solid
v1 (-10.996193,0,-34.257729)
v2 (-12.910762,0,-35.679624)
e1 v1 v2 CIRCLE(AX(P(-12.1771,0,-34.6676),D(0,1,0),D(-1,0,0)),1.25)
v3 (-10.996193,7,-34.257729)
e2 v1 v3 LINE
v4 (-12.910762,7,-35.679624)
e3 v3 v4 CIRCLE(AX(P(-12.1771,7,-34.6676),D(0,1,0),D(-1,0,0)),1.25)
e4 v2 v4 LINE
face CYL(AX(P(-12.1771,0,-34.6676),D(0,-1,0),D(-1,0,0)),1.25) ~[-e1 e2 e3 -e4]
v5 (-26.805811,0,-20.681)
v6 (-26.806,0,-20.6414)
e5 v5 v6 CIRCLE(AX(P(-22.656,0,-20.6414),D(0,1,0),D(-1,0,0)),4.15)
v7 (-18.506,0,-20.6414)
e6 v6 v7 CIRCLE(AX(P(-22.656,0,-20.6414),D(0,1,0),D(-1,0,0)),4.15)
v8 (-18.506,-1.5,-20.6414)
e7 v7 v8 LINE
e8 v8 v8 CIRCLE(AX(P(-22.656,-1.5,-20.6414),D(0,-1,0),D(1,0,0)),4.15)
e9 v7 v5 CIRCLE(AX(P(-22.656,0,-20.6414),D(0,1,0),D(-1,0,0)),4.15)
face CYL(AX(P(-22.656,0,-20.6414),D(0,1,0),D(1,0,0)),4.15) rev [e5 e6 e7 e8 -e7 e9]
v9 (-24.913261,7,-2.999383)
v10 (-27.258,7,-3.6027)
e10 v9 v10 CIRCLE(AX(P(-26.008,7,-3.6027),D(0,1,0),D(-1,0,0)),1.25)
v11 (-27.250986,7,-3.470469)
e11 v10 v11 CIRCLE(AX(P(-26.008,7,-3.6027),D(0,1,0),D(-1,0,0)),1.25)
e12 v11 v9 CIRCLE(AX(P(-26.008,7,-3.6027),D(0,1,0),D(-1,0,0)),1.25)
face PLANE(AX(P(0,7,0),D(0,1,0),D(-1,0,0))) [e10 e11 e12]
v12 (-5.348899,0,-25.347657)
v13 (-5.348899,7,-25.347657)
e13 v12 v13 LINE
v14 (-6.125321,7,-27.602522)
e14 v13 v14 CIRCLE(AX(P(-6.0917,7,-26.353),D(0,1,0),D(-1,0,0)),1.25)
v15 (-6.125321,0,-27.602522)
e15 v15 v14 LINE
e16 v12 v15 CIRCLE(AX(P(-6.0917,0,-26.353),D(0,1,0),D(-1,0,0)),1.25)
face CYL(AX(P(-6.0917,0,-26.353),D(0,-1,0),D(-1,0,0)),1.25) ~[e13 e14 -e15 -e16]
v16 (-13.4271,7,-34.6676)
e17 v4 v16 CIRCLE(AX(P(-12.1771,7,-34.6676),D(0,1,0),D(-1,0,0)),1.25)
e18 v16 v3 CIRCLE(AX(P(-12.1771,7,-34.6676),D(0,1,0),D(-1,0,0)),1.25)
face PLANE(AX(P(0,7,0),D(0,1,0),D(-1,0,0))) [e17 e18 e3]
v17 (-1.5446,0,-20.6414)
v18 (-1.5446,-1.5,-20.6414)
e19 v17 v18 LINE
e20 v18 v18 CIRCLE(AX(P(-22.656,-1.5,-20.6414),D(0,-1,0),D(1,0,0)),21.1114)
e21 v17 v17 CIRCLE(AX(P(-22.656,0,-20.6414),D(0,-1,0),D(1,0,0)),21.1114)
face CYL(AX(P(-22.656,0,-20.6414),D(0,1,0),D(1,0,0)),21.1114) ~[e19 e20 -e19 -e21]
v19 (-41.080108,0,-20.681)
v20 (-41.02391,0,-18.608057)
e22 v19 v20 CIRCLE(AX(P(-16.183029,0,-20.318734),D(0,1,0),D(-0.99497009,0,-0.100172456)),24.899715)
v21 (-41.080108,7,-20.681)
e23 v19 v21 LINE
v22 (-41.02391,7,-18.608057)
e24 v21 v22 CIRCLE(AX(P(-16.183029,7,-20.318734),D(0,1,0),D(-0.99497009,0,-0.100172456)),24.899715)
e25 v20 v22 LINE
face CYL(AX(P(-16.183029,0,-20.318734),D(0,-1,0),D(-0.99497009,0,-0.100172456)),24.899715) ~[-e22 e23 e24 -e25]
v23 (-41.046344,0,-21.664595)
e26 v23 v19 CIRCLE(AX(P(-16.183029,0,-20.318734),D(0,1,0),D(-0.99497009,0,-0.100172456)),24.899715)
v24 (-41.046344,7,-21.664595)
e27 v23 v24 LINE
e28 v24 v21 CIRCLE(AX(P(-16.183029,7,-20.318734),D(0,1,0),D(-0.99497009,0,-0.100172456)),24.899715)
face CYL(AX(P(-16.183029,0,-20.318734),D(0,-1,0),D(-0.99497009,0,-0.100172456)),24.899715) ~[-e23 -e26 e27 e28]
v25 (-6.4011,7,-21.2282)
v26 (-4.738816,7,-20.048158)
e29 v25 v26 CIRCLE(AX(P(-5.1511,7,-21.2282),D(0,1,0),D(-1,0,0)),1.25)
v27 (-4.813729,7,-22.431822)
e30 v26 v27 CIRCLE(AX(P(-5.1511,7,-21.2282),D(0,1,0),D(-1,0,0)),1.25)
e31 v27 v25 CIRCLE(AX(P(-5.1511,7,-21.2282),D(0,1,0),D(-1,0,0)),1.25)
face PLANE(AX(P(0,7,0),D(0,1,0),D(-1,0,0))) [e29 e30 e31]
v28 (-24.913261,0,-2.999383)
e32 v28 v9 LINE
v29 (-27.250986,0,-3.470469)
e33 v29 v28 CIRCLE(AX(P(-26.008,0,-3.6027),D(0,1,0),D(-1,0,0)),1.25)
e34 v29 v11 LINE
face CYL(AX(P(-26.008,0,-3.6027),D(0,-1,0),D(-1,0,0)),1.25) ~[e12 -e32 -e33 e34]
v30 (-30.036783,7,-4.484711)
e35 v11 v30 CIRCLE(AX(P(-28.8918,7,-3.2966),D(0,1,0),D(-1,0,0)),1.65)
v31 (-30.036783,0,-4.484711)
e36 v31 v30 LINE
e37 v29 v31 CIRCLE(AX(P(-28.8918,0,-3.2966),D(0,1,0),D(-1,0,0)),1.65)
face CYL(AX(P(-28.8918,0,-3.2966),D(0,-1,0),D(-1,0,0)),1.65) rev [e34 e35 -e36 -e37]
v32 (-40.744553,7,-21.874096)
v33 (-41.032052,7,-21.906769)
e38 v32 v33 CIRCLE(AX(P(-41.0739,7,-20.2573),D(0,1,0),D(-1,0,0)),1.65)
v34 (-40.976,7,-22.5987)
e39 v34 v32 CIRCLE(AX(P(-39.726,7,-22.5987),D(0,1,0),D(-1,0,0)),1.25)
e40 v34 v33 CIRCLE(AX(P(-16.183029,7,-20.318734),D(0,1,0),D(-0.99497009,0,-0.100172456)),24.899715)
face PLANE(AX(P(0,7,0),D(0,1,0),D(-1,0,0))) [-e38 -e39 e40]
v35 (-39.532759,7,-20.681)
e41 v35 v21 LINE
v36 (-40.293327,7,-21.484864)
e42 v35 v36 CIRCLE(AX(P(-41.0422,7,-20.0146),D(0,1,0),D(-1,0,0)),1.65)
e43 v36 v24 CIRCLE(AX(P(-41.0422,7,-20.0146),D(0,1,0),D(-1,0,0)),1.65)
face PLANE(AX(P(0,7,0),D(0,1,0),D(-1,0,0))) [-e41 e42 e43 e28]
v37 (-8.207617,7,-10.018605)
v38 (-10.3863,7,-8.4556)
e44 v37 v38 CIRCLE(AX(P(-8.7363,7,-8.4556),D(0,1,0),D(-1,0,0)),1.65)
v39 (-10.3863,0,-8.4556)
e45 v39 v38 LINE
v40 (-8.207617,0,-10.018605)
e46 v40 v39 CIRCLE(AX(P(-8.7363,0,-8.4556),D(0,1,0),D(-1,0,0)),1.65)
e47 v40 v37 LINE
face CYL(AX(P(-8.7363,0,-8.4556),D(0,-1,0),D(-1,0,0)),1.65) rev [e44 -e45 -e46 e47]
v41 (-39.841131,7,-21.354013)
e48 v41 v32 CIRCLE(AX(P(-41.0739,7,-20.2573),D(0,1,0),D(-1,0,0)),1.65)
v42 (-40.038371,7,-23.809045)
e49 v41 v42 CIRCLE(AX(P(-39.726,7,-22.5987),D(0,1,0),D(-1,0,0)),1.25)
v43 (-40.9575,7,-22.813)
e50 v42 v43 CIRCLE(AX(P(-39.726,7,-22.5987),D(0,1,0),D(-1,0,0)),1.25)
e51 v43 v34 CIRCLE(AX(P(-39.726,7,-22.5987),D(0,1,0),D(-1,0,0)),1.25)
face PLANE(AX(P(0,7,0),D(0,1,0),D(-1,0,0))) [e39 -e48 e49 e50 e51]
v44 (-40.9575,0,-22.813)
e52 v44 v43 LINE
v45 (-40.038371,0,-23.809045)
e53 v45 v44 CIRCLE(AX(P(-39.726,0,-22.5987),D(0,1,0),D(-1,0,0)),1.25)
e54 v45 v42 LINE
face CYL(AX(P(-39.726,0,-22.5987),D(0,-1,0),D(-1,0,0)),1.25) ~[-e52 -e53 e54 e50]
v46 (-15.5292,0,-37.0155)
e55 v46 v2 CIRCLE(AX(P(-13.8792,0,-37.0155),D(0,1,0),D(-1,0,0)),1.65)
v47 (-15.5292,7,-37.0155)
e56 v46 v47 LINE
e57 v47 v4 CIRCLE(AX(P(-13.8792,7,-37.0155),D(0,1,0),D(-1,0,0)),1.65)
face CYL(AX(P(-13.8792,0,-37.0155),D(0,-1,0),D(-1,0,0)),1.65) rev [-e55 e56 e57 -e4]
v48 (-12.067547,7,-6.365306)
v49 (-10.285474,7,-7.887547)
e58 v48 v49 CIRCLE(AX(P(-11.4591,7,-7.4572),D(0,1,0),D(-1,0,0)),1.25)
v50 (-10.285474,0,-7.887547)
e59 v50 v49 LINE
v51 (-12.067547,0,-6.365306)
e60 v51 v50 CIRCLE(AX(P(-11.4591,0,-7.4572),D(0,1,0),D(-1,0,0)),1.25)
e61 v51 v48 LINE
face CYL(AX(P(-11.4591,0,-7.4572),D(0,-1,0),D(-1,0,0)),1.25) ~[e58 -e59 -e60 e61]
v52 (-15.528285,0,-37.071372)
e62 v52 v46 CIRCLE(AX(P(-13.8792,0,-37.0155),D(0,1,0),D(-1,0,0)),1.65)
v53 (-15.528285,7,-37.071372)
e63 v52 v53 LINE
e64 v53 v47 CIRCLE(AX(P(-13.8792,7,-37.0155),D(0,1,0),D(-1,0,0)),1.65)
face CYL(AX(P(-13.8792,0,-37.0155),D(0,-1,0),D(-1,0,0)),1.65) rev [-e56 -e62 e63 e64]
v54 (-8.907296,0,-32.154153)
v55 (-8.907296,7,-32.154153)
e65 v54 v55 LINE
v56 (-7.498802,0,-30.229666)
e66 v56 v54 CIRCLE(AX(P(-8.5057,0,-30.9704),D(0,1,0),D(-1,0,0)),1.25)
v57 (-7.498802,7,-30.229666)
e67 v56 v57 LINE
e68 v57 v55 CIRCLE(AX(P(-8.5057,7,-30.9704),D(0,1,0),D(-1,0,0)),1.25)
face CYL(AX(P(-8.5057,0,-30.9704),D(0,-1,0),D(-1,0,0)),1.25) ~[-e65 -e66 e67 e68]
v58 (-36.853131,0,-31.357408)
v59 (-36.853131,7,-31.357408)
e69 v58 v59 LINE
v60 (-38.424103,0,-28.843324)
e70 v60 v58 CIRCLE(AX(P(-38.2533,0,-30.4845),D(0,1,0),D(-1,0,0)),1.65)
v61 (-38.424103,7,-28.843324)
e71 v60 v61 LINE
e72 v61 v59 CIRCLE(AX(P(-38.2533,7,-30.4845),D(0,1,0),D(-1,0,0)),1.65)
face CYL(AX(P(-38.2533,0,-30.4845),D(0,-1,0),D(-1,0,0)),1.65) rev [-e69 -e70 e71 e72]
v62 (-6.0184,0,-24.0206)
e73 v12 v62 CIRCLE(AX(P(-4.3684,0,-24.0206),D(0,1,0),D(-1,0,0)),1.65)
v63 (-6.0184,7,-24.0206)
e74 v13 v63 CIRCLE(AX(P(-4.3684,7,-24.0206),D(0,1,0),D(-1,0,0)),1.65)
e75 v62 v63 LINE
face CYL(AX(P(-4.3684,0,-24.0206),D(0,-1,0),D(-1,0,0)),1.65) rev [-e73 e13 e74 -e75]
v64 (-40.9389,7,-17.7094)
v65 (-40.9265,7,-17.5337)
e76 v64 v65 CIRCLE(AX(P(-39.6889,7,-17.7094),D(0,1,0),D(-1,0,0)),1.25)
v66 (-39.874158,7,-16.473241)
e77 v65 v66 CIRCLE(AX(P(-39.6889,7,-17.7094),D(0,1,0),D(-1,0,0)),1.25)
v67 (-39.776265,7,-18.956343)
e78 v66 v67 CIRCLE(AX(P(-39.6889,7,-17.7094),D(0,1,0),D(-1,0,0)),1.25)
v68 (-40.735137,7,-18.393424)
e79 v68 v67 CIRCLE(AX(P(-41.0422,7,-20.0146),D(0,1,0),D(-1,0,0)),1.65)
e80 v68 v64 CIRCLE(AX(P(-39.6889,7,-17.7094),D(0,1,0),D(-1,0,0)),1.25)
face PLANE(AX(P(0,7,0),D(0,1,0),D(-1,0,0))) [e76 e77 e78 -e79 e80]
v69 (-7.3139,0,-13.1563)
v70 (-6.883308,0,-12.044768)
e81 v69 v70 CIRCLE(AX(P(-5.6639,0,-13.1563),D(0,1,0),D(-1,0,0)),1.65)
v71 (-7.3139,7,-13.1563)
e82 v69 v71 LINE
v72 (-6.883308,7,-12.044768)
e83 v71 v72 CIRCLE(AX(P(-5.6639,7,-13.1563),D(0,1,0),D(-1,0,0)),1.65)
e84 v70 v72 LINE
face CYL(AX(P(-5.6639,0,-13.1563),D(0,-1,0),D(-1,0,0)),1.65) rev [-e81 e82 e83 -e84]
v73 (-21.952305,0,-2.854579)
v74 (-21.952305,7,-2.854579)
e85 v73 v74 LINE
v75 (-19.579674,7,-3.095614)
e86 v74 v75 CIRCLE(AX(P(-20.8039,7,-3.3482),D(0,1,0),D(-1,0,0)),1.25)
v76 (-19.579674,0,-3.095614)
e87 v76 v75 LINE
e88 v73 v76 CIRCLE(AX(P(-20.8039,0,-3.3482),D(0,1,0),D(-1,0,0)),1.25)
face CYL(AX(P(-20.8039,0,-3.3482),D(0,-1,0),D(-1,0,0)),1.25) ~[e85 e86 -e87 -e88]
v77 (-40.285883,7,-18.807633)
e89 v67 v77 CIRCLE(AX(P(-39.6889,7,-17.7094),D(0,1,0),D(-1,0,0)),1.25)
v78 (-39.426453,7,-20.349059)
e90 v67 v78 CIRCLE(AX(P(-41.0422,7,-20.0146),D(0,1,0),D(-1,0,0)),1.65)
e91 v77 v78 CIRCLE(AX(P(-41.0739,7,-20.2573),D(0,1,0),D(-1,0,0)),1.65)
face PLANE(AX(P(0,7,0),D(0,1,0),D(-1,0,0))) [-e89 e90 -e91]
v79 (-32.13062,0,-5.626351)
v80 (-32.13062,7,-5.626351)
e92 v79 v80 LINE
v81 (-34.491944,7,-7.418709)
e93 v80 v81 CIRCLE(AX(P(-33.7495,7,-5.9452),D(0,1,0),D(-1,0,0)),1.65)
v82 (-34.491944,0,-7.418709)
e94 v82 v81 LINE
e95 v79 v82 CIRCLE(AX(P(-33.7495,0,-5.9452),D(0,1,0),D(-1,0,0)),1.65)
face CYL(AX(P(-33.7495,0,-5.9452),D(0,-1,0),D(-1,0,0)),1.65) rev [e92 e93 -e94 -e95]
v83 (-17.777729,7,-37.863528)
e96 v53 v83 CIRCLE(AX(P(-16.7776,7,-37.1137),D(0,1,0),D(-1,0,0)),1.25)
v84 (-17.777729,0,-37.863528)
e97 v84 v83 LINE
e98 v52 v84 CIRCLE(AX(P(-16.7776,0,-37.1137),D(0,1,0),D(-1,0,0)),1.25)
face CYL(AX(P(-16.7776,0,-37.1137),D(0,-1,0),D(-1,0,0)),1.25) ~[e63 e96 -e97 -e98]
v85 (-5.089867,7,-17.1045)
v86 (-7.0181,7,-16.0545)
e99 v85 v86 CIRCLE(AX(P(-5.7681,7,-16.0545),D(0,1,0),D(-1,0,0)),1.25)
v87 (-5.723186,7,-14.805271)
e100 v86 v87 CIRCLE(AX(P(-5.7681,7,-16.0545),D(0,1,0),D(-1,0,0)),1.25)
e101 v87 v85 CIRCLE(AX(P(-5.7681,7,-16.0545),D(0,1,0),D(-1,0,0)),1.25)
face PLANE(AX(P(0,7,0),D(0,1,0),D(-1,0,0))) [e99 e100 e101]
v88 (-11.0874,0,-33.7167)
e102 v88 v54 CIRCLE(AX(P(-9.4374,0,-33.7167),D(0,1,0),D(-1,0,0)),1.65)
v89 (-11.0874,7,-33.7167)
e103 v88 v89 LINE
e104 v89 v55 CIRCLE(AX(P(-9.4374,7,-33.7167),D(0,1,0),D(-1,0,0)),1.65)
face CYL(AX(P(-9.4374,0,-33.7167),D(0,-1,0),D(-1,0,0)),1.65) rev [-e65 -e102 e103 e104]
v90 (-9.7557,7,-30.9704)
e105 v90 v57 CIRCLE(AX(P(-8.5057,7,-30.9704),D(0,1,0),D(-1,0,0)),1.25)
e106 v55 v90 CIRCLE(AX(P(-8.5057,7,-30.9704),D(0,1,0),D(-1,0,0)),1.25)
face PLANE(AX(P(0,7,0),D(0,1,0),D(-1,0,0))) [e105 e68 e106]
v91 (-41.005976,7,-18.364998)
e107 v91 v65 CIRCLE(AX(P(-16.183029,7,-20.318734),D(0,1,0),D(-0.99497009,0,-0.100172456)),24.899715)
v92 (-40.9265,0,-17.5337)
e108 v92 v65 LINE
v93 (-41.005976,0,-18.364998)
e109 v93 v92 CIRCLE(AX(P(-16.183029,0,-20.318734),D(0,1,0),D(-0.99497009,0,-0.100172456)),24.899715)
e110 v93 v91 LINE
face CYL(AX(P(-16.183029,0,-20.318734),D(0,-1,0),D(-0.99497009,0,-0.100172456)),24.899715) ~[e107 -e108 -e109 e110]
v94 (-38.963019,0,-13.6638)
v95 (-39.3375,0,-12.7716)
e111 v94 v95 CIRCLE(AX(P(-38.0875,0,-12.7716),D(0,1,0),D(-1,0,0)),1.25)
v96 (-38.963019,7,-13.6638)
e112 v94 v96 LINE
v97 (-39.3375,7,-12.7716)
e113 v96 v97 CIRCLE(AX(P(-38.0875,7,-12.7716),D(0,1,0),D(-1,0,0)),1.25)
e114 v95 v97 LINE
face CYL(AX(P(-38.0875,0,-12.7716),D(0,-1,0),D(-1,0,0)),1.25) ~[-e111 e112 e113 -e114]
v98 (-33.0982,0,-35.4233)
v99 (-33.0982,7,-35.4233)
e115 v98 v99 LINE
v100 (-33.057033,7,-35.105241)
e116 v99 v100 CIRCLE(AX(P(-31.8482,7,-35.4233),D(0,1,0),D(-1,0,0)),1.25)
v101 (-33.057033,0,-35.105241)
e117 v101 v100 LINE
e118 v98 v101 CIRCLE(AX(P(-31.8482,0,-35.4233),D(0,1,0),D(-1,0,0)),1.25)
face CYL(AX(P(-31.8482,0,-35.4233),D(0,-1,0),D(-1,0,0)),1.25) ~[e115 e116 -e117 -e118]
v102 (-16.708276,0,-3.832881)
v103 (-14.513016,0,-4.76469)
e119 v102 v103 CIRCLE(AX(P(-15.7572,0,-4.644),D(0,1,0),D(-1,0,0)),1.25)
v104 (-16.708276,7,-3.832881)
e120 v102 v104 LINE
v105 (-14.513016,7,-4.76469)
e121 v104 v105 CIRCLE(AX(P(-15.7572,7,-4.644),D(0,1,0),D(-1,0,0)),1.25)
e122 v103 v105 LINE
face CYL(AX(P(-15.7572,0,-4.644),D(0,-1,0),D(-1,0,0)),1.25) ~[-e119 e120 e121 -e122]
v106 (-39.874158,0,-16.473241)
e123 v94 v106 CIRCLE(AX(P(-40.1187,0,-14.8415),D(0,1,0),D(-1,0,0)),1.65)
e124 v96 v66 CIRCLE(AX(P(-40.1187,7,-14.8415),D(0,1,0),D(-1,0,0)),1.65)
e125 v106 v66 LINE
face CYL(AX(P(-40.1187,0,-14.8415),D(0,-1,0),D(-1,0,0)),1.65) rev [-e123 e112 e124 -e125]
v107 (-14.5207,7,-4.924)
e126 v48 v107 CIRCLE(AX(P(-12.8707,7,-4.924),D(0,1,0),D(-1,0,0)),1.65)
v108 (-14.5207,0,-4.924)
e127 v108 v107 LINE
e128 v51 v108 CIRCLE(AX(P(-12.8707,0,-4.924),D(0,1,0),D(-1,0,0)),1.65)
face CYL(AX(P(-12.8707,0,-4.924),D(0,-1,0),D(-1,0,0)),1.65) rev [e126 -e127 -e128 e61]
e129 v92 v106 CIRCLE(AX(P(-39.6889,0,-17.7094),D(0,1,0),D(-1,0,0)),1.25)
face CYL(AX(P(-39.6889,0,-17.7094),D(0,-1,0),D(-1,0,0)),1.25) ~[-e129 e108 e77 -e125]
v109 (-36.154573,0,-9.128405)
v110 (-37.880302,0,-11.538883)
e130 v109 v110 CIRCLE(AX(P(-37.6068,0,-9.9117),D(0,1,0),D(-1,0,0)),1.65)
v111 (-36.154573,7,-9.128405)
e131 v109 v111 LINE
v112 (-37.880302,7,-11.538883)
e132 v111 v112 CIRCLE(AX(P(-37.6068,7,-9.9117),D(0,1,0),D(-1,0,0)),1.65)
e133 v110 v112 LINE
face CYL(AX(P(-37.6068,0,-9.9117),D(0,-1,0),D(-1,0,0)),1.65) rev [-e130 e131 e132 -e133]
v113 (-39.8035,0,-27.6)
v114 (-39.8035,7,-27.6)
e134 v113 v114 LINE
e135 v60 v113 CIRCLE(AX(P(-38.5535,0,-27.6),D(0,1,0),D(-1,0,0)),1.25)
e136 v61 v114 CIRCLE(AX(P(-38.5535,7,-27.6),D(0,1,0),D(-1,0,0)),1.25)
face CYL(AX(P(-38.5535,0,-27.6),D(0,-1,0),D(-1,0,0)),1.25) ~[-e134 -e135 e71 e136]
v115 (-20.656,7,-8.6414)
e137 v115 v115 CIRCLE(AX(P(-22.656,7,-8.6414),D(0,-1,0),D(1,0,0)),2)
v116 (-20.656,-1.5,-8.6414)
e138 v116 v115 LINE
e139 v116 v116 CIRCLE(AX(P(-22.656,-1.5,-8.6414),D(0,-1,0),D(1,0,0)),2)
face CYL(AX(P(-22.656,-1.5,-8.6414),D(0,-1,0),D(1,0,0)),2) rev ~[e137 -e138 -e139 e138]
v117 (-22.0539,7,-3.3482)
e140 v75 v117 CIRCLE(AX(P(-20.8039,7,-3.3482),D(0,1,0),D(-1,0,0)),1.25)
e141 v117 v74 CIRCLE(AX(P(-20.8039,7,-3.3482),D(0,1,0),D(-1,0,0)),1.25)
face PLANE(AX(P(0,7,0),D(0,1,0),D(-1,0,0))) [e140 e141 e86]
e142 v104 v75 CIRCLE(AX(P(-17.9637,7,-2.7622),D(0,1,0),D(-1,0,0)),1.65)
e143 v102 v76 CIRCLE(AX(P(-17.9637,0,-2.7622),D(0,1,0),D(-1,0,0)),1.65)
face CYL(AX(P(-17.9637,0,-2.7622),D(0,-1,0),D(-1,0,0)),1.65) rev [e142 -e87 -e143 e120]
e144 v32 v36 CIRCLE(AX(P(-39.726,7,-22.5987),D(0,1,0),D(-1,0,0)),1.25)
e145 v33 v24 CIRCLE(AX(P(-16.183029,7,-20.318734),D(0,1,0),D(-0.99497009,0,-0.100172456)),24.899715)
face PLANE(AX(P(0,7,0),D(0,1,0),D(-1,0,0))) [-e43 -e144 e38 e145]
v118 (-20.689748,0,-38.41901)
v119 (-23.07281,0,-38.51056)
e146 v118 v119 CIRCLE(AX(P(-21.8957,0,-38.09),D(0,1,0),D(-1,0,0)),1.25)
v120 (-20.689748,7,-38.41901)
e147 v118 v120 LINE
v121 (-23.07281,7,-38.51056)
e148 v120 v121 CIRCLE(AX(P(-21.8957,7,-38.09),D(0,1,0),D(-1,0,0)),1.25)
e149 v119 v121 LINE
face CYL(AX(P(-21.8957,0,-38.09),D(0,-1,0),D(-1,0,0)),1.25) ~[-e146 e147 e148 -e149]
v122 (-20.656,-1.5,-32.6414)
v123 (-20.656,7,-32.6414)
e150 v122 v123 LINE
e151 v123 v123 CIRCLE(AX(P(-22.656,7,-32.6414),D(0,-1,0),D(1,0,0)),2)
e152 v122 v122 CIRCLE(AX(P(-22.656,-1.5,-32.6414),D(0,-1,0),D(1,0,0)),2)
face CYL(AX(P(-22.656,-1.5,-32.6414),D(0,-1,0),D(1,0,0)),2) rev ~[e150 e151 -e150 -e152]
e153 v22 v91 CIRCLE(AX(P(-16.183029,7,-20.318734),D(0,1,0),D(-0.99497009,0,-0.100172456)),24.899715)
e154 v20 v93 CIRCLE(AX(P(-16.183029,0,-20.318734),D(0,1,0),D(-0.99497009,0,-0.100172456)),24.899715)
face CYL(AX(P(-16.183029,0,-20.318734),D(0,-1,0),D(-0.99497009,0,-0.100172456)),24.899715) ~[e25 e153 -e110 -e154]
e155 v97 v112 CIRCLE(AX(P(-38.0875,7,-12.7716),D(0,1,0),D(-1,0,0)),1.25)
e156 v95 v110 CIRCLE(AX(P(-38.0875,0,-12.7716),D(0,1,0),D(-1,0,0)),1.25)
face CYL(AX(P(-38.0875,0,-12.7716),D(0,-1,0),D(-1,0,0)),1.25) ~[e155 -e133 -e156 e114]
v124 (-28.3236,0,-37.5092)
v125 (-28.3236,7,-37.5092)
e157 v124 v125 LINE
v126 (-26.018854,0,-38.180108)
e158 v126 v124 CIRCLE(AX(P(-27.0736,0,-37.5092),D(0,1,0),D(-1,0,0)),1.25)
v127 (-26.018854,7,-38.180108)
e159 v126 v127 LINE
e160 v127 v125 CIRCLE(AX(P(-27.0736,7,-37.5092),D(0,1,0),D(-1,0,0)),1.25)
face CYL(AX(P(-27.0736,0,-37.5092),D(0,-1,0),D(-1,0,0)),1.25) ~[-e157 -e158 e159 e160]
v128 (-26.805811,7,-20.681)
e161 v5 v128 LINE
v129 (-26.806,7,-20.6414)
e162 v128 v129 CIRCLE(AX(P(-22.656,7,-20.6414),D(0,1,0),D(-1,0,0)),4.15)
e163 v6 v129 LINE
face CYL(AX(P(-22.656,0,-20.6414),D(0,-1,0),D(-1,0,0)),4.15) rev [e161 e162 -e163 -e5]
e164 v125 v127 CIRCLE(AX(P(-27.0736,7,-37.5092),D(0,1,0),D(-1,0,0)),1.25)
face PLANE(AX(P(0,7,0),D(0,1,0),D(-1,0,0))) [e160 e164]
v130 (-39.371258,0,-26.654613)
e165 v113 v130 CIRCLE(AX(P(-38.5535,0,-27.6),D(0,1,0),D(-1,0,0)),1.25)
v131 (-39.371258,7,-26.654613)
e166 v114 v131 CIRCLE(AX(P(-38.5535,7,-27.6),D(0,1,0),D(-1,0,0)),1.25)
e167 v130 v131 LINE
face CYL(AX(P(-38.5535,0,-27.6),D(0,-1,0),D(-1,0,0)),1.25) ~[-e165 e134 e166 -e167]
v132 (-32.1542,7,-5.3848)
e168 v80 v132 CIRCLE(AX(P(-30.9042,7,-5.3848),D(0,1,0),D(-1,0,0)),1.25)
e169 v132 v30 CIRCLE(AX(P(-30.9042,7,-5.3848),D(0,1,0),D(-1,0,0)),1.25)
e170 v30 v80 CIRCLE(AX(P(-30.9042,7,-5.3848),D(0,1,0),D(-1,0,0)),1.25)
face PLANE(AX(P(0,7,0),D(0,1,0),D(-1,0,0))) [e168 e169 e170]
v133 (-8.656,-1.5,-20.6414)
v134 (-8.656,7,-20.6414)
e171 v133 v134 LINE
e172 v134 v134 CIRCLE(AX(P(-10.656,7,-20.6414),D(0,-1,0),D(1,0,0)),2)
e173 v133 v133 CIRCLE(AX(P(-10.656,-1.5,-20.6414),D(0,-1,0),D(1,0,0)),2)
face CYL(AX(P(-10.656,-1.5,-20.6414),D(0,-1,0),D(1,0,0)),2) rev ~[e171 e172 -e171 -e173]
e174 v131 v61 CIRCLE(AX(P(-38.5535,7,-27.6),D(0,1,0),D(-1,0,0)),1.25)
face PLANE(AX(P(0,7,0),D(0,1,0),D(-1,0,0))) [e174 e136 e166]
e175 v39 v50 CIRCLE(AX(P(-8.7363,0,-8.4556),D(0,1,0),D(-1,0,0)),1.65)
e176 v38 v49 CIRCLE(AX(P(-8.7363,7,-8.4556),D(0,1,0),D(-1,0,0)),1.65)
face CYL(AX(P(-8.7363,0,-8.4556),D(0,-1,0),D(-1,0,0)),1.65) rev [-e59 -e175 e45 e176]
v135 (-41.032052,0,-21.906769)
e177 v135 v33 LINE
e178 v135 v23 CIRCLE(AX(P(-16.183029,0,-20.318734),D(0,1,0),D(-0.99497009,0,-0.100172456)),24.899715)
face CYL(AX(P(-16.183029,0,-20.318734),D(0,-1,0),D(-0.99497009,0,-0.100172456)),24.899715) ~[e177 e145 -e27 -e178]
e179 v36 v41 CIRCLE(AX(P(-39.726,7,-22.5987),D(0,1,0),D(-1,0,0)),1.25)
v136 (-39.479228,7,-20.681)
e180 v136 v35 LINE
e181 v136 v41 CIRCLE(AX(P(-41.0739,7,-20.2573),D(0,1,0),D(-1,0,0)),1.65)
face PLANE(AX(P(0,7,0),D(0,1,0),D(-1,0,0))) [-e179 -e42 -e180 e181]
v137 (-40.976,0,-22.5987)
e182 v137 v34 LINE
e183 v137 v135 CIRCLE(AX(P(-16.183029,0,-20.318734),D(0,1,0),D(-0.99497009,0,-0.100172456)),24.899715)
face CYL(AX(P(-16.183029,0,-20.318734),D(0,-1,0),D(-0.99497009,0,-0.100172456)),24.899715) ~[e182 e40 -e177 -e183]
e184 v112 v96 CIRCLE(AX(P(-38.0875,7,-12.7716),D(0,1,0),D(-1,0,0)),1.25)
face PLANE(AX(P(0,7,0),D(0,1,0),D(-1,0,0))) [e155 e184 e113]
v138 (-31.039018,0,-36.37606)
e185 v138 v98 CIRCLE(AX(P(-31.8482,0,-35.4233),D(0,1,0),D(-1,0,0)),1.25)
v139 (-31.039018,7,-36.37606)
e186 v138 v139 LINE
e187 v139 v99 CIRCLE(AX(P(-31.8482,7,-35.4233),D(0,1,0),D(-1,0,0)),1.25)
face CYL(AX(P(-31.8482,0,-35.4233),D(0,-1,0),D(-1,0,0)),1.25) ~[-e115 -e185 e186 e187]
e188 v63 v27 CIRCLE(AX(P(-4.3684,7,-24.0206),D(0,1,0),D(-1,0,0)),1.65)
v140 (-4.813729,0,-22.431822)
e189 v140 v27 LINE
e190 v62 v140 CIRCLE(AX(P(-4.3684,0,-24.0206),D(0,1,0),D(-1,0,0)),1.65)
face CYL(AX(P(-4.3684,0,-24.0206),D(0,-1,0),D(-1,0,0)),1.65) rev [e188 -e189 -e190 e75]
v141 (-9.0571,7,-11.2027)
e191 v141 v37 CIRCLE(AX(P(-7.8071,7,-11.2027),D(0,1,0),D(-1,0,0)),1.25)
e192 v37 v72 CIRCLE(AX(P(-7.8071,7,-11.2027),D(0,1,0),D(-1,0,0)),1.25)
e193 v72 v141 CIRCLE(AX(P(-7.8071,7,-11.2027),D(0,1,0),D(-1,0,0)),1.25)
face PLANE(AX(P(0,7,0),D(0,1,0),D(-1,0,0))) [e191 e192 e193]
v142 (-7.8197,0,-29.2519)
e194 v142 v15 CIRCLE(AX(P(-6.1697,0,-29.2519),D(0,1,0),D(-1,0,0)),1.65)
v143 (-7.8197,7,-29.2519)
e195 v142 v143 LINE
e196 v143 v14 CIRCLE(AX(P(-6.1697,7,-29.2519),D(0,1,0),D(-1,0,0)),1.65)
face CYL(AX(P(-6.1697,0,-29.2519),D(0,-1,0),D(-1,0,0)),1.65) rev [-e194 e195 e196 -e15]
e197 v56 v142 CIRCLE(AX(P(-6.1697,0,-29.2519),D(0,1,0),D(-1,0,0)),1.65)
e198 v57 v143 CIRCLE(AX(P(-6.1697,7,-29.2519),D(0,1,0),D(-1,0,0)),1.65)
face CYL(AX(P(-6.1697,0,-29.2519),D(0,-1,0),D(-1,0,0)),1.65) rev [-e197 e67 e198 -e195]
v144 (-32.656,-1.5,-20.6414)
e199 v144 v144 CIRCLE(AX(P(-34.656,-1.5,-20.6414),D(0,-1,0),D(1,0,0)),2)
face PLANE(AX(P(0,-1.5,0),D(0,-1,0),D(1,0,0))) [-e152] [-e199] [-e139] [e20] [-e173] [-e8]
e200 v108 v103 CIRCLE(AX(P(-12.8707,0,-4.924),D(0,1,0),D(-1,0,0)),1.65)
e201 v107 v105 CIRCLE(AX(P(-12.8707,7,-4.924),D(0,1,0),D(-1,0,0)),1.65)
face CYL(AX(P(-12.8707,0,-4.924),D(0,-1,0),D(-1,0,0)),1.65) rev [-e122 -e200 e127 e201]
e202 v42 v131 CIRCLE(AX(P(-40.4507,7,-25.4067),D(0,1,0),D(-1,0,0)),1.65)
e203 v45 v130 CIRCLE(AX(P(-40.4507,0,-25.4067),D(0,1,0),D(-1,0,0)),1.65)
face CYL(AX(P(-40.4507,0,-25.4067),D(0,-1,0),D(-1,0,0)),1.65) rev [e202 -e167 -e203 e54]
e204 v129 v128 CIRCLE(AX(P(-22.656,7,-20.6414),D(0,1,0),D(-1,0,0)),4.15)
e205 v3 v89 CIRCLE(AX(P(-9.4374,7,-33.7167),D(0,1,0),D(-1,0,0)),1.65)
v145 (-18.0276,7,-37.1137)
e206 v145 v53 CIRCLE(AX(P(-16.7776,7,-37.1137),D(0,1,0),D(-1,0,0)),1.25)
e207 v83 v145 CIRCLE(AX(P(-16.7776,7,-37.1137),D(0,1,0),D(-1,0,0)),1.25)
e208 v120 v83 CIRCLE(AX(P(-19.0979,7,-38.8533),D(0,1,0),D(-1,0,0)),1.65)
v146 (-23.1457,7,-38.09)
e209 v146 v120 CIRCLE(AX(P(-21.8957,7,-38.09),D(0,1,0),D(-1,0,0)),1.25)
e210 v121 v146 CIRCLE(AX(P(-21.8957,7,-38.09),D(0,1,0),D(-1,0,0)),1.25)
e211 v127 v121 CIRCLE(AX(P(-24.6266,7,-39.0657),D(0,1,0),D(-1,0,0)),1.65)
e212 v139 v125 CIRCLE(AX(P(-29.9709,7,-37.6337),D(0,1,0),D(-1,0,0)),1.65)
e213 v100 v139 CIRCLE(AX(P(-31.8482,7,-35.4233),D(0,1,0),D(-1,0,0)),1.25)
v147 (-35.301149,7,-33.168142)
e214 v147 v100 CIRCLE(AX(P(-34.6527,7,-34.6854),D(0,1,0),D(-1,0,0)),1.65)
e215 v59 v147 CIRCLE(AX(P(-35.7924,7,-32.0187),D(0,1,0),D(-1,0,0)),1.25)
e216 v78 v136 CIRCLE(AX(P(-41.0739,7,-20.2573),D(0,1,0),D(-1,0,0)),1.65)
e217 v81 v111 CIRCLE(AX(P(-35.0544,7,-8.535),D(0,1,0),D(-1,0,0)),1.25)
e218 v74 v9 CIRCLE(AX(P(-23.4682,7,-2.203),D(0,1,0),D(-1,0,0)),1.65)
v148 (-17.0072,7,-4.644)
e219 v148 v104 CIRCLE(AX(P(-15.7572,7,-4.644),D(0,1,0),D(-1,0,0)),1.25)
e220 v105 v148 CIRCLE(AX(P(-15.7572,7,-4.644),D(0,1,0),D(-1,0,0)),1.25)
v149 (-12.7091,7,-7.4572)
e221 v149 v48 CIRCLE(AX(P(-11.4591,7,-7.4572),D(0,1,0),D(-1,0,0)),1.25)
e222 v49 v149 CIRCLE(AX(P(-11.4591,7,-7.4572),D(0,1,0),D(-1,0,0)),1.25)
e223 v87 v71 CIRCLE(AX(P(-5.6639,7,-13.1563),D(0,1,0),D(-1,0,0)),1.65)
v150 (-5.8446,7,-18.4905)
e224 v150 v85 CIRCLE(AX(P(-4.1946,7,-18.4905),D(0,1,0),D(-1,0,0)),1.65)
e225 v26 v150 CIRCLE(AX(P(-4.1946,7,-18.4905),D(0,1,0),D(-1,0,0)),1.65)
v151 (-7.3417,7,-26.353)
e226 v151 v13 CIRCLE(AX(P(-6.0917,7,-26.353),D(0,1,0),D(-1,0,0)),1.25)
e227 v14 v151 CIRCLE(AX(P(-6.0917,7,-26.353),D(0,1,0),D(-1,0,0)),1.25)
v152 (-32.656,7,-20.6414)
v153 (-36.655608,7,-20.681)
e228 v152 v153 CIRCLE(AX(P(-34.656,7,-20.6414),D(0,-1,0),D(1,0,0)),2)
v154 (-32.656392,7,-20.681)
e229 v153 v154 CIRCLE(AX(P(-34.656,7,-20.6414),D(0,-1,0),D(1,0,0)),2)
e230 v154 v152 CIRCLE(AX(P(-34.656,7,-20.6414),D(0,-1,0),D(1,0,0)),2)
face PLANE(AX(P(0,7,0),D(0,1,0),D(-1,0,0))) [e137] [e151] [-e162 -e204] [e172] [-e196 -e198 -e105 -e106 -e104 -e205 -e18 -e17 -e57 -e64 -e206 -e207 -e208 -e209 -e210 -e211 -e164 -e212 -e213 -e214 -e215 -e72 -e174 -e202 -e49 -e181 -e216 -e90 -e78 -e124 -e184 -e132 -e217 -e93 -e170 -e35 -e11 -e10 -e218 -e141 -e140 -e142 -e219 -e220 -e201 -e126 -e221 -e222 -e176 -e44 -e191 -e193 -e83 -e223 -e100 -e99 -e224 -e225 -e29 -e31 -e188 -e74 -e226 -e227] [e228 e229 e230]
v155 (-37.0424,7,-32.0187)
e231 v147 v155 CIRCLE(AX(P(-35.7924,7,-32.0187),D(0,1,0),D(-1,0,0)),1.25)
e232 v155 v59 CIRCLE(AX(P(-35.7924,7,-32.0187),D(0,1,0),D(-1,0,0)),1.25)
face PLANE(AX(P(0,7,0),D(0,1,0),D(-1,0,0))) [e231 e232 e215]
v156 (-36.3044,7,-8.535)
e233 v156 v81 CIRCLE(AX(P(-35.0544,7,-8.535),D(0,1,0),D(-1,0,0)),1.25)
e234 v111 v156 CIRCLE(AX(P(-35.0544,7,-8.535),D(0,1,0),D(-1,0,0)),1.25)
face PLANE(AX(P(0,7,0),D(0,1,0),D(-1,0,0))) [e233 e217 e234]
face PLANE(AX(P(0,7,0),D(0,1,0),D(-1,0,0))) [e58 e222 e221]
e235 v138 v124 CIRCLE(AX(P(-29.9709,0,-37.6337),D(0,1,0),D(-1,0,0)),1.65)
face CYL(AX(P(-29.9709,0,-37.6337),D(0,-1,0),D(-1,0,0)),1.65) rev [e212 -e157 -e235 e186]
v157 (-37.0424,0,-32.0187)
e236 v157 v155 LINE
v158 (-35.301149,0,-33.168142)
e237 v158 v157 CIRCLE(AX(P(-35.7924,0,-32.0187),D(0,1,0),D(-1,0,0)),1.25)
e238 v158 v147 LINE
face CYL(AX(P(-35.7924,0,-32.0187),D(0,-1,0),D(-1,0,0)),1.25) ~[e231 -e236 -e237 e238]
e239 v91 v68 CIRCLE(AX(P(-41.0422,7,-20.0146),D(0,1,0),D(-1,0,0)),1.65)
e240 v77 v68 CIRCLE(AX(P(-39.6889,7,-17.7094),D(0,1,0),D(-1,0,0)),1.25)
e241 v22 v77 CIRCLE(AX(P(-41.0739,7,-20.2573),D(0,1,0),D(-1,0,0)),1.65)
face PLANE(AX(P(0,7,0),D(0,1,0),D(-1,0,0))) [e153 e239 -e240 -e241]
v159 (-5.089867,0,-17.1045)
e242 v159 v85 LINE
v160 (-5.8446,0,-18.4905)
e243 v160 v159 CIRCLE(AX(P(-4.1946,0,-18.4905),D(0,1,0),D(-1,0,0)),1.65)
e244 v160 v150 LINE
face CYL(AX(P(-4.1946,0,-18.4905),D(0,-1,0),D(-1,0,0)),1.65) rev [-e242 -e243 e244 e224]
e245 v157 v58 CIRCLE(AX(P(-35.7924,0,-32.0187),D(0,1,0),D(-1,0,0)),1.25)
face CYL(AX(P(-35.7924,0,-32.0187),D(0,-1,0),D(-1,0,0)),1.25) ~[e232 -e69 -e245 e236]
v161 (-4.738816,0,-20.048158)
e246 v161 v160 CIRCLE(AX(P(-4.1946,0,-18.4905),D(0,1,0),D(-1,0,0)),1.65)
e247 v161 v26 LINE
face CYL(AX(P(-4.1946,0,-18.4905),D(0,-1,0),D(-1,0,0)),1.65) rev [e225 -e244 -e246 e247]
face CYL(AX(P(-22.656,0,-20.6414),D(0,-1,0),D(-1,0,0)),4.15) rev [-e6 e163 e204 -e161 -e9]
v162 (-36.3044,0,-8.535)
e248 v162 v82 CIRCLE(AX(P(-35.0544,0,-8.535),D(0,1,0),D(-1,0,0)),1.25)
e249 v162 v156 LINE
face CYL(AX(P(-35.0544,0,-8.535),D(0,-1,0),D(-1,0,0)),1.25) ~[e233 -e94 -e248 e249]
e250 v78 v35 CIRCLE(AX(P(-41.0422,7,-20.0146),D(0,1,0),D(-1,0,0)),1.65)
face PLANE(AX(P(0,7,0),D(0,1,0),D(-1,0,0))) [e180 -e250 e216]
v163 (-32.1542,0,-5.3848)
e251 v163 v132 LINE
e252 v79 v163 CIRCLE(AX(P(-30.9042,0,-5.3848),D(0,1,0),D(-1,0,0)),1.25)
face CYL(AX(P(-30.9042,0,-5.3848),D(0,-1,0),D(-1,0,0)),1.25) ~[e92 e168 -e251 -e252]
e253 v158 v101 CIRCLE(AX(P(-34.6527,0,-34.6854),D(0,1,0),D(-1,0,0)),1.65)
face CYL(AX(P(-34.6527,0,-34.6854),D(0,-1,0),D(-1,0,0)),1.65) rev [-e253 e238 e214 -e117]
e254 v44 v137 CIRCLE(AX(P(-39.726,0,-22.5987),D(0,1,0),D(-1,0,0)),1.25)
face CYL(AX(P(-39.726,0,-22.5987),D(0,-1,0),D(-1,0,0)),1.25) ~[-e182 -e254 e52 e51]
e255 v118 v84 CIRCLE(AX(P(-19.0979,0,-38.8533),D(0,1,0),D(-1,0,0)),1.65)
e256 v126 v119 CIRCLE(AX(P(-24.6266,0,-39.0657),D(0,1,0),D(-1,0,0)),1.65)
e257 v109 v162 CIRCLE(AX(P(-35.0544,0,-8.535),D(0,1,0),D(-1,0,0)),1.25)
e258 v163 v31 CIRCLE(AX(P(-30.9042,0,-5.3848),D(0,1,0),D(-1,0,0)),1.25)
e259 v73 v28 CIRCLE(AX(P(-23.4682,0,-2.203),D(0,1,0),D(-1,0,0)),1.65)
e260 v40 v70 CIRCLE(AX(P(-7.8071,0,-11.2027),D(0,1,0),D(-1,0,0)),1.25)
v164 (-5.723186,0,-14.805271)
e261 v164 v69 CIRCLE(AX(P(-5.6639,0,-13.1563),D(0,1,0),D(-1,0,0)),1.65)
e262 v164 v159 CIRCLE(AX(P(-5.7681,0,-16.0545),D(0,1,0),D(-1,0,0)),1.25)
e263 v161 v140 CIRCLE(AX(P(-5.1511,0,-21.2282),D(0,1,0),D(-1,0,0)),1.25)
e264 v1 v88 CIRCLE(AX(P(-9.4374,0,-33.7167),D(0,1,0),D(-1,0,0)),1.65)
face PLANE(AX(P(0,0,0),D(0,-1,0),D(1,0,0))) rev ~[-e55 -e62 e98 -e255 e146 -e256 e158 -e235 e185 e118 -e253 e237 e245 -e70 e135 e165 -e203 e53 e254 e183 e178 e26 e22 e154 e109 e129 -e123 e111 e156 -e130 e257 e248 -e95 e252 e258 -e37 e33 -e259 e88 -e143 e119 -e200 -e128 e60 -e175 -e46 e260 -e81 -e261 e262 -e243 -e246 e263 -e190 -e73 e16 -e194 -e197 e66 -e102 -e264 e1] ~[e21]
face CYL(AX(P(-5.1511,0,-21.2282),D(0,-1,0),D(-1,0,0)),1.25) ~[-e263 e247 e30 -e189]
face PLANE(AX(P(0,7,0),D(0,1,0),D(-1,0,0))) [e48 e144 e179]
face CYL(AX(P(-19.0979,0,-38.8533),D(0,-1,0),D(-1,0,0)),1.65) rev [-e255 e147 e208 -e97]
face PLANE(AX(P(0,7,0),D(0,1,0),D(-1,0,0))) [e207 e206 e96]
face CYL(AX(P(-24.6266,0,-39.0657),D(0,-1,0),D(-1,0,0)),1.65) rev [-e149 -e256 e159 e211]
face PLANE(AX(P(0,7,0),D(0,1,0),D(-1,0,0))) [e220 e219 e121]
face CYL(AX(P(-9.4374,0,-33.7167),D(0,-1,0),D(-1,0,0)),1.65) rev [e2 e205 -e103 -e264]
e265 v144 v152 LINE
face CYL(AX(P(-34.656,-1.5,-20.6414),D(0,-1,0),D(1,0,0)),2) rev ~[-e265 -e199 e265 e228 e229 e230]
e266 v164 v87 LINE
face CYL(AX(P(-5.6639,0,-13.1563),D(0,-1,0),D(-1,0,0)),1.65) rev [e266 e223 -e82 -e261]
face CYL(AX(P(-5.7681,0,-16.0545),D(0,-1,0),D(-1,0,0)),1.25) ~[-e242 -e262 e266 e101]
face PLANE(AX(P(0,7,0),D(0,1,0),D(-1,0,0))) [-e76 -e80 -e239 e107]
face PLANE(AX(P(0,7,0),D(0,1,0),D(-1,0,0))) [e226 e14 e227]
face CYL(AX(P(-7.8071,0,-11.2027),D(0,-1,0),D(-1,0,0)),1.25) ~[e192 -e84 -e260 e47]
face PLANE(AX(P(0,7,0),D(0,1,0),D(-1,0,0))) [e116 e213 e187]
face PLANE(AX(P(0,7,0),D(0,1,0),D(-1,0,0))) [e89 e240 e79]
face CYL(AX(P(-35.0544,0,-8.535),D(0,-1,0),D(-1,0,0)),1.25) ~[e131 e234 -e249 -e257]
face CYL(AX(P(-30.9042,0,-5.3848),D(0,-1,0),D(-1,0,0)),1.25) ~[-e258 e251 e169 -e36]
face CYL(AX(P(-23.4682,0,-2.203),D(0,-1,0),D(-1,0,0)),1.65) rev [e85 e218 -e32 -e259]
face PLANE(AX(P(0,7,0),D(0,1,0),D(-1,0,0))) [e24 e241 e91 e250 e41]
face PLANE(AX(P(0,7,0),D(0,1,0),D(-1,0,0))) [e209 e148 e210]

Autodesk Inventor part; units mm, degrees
ref_plane "YZ Plane" through (0, 0, 0) normal (1, 0, 0) x (0, 1, 0)
ref_plane "XZ Plane" through (0, 0, 0) normal (0, 1, 0) x (-1, 0, 0)
ref_plane "XY Plane" through (0, 0, 0) normal (0, 0, 1) x (1, 0, 0)
sketch "Sketch1" plane through (0, 0, 0) normal (0, 1, 0) x (-1, 0, 0)
  line L0 (0, 0) -> (45.711, 0) construction
  line L1 (45.711, 0) -> (45.711, -43.574) construction
  line L2 (45.711, -43.574) -> (0, -43.574) construction
  line L3 (0, -43.574) -> (0, 0) construction
  circle A0 centre (22.5645, -20.681) radius 19.3356
  line L4 (25.3444, -20.681) -> (41.9, -20.681)
  line L5 (22.5645, -20.681) -> (39.1201, -20.681) construction
  circle A1 centre (40.1187, -14.8415) radius 1.65
  line L6 (22.5645, -20.681) -> (40.1187, -14.8415) construction
  line L7 (0, 0) -> (60, 0)
  line L8 (60, 0) -> (60, -60)
  line L9 (60, -60) -> (0, -60)
  line L10 (0, -60) -> (0, 0)
  circle A2 centre (38.0875, -12.7716) radius 1.25
  circle A3 centre (37.6068, -9.9117) radius 1.65
  line L11 (22.5645, -20.681) -> (37.6068, -9.9117) construction
  circle A4 centre (35.0544, -8.535) radius 1.25
  circle A5 centre (33.7495, -5.9452) radius 1.65
  line L12 (22.5645, -20.681) -> (33.7495, -5.9452) construction
  circle A6 centre (30.9042, -5.3848) radius 1.25
  circle A7 centre (26.008, -3.6027) radius 1.25
  line L13 (22.5645, -20.681) -> (28.8918, -3.2966) construction
  circle A8 centre (28.8918, -3.2966) radius 1.65
  circle A9 centre (23.4682, -2.203) radius 1.65
  line L14 (22.5645, -20.681) -> (23.4682, -2.203) construction
  circle A10 centre (20.8039, -3.3482) radius 1.25
  circle A11 centre (15.7572, -4.644) radius 1.25
  line L15 (22.5645, -20.681) -> (17.9637, -2.7622) construction
  circle A12 centre (17.9637, -2.7622) radius 1.65
  line L16 (22.5645, -20.681) -> (12.8707, -4.924) construction
  circle A13 centre (11.4591, -7.4572) radius 1.25
  circle A14 centre (12.8707, -4.924) radius 1.65
  circle A15 centre (5.6639, -13.1563) radius 1.65
  line L17 (22.5645, -20.681) -> (5.6639, -13.1563) construction
  circle A16 centre (5.7681, -16.0545) radius 1.25
  circle A17 centre (5.1511, -21.2282) radius 1.25
  line L18 (22.5645, -20.681) -> (4.1946, -18.4905) construction
  circle A18 centre (4.1946, -18.4905) radius 1.65
  circle A19 centre (8.5057, -30.9704) radius 1.25
  circle A20 centre (6.1697, -29.2519) radius 1.65
  line L19 (22.5645, -20.681) -> (6.1697, -29.2519) construction
  line L20 (22.5645, -20.681) -> (4.3684, -24.0206) construction
  circle A21 centre (6.0917, -26.353) radius 1.25
  circle A22 centre (4.3684, -24.0206) radius 1.65
  circle A23 centre (21.8957, -38.09) radius 1.25
  circle A24 centre (19.0979, -38.8533) radius 1.65
  circle A25 centre (16.7776, -37.1137) radius 1.25
  circle A26 centre (13.8792, -37.0155) radius 1.65
  circle A27 centre (12.1771, -34.6676) radius 1.25
  circle A28 centre (9.4374, -33.7167) radius 1.65
  line L21 (22.5645, -20.681) -> (9.4374, -33.7167) construction
  line L22 (22.5645, -20.681) -> (13.8792, -37.0155) construction
  line L23 (22.5645, -20.681) -> (19.0979, -38.8533) construction
  circle A29 centre (29.9709, -37.6337) radius 1.65
  circle A30 centre (24.6266, -39.0657) radius 1.65
  circle A31 centre (27.0736, -37.5092) radius 1.25
  circle A32 centre (31.8482, -35.4233) radius 1.25
  line L24 (22.5645, -20.681) -> (29.9709, -37.6337) construction
  line L25 (22.5645, -20.681) -> (24.6266, -39.0657) construction
  circle A33 centre (34.6527, -34.6854) radius 1.65
  circle A34 centre (35.7924, -32.0187) radius 1.25
  line L26 (22.5645, -20.681) -> (34.6527, -34.6854) construction
  circle A35 centre (39.726, -22.5987) radius 1.25
  circle A36 centre (40.4507, -25.4067) radius 1.65
  line L27 (22.5645, -20.681) -> (40.4507, -25.4067) construction
  circle A37 centre (38.5535, -27.6) radius 1.25
  circle A38 centre (38.2533, -30.4845) radius 1.65
  line L28 (22.5645, -20.681) -> (38.2533, -30.4845) construction
  circle A39 centre (7.8071, -11.2027) radius 1.25
  circle A40 centre (8.7363, -8.4556) radius 1.65
  line L29 (22.656, -20.6414) -> (8.7363, -8.4556) construction
  circle A41 centre (22.656, -20.6414) radius 4.15
  circle A42 centre (41.0422, -20.0146) radius 1.65
  line L30 (22.5584, -20.7893) -> (41.0422, -20.0146) construction
  circle A43 centre (41.0739, -20.2573) radius 1.65
  line L31 (22.578, -20.6448) -> (41.0739, -20.2573) construction
  circle A44 centre (39.6889, -17.7094) radius 1.25
  arc A45 (40.9575, -22.813) -> (40.9265, -17.5337) centre (16.1823, -20.3187) ccw
  point P0 (40.0384, -23.8091)
  point P1 (41.7675, -22.9405)
  point P2 (38.963, -13.6638)
  point P3 (37.8803, -11.5389)
  point P4 (36.1546, -9.1284)
  point P5 (34.492, -7.4187)
  point P6 (32.1306, -5.6263)
  point P7 (30.0368, -4.4847)
  point P8 (27.251, -3.4708)
  point P9 (24.9133, -2.9994)
  point P10 (21.9523, -2.8546)
  point P11 (19.5797, -3.0956)
  point P12 (16.7083, -3.8329)
  point P13 (14.513, -4.7647)
  point P14 (12.0675, -6.3653)
  point P15 (10.2855, -7.8876)
  point P16 (8.2076, -10.0186)
  point P17 (6.8833, -12.0448)
  point P18 (5.7231, -14.8053)
  point P19 (5.0898, -17.1045)
  point P20 (4.7388, -20.0481)
  point P21 (4.8137, -22.4318)
  point P22 (5.3489, -25.3476)
  point P23 (6.1253, -27.6025)
  point P24 (7.4988, -30.2297)
  point P25 (8.9073, -32.1542)
  point P26 (10.9962, -34.2577)
  point P27 (12.9108, -35.6796)
  point P28 (15.5283, -37.0714)
  point P29 (17.7777, -37.8635)
  point P30 (20.6897, -38.419)
  point P31 (23.0728, -38.5106)
  point P32 (26.0189, -38.1801)
  point P33 (28.3224, -37.5629)
  point P34 (31.039, -36.376)
  point P35 (33.057, -35.1052)
  point P36 (35.3012, -33.1681)
  point P37 (36.8532, -31.3574)
  point P38 (38.4241, -28.8433)
  point P39 (39.3713, -26.6546)
  point P40 (32.7216, -37.1338)
  point P41 (33.0702, -36.9135)
  point P42 (41.5769, -24.2009)
  point P43 (40.8343, -27.0115)
  point P44 (39.6858, -29.6656)
  point P45 (38.1453, -32.1309)
  point P46 (37.439, -33.0346)
  point P47 (36.9604, -33.5892)
  point P48 (41.3184, -15.9742)
  point P49 (40.4008, -13.2157)
  point P50 (36.2633, -34.3267)
  point P51 (34.0627, -36.2262)
  point P52 (39.0879, -10.639)
  point P53 (37.3956, -8.2753)
  point P54 (37.7872, -11.4567)
  point P55 (31.6155, -37.7673)
  point P56 (28.9516, -38.9311)
  point P57 (35.3794, -6.202)
  point P58 (33.0639, -4.4444)
  point P59 (35.1203, -7.0572)
  point P60 (26.1581, -39.6796)
  point P61 (23.2692, -40.0037)
  point P62 (30.5248, -3.06)
  point P63 (27.793, -2.0657)
  point P64 (30.5301, -3.9536)
  point P65 (20.3794, -39.8927)
  point P66 (17.5238, -39.3479)
  point P67 (24.9581, -1.4941)
  point P68 (22.0545, -1.3521)
  point P69 (25.2274, -2.3462)
  point P70 (14.796, -38.3873)
  point P71 (12.2292, -37.0226)
  point P72 (19.1774, -1.6444)
  point P73 (16.3616, -2.3673)
  point P74 (19.6866, -2.3787)
  point P75 (9.9075, -35.2983)
  point P76 (7.8591, -33.2355)
  point P77 (13.6996, -3.4973)
  point P78 (11.2235, -5.0206)
  point P79 (14.4032, -4.0482)
  point P80 (6.1511, -30.9018)
  point P81 (4.8043, -28.3256)
  point P82 (9.0644, -6.8386)
  point P83 (7.1717, -8.9794)
  point P84 (3.8627, -25.5912)
  point P85 (3.338, -22.7319)
  point P86 (6.531, -9.8739)
  point P87 (6.1331, -10.489)
  point P88 (3.2475, -21.5281)
  point P89 (3.2338, -21.1159)
  point P90 (5.5417, -11.5109)
  point P91 (4.3593, -14.1666)
  point P92 (3.2471, -19.8413)
  point P93 (3.5913, -16.9547)
  point P94 (3.8954, -15.6479)
  point P95 (3.7863, -16.0717)
  point P96 (4.445, -16.7734)
  point P97 (4.0998, -22.3062)
  point P98 (8.2473, -32.4539)
  point P99 (6.2223, -27.7264)
  point P100 (13.0608, -35.727)
  point P101 (17.935, -37.8645)
  point P102 (28.4528, -37.4748)
  point P103 (37.17, -31.6384)
  point P104 (39.3832, -26.4978)
  point P105 (39.8742, -16.4732)
  point P106 (39.7762, -18.9564)
  point P107 (39.4265, -20.3492)
  point P108 (39.8411, -21.354)
  point P109 (41.781, -18.5393)
  point P110 (40.7352, -18.3934)
  point P111 (40.9349, -17.6095)
  point P112 (40.9757, -22.6247)
  dimension "d274" = 2.5
  dimension "d315" = 2.5
  dimension "d39" = 0
  dimension "circ_mayor" = 3.3
  dimension "d126" = 18.5
  dimension "d132" = 18.4
  dimension "d133" = 60
  dimension "d134" = 60
  dimension "pos_circ_y" = 22.5645
  dimension "pos_circ_x" = 20.681
  dimension "circ_menor" = 2.5
  dimension "d157" = 3.3
  dimension "d158" = 18.5
  dimension "d160" = 2.5
  dimension "d166" = 17.2
  dimension "d167" = 3.3
  dimension "d168" = 18.5
  dimension "d169" = 2.5
  dimension "d170" = 3.3
  dimension "d171" = 18.5
  dimension "d172" = 2.5
  dimension "d173" = 17.2
  dimension "d177" = 17.2
  dimension "d178" = 3.3
  dimension "d179" = 18.5
  dimension "d180" = 2.5
  dimension "d181" = 3.3
  dimension "d182" = 18.5
  dimension "d183" = 2.5
  dimension "d184" = 17.2
  dimension "d185" = 3.3
  dimension "d186" = 18.5
  dimension "d187" = 2.5
  dimension "d192" = 17.2
  dimension "d196" = 17.2
  dimension "d197" = 3.3
  dimension "d198" = 18.5
  dimension "d199" = 2.5
  dimension "d200" = 3.3
  dimension "d201" = 18.5
  dimension "d202" = 2.5
  dimension "d203" = 17.2
  dimension "d204" = 3.3
  dimension "d205" = 18.5
  dimension "d206" = 2.5
  dimension "d207" = 3.3
  dimension "d208" = 18.5
  dimension "d209" = 2.5
  dimension "d210" = 17.2
  dimension "d211" = 17.2
  dimension "d212" = 3.3
  dimension "d213" = 18.5
  dimension "d214" = 2.5
  dimension "d215" = 3.3
  dimension "d216" = 18.5
  dimension "d217" = 2.5
  dimension "d218" = 17.2
  dimension "d219" = 3.3
  dimension "d220" = 18.5
  dimension "d221" = 2.5
  dimension "d226" = 17.2
  dimension "d227" = 17.2
  dimension "d253" = 3.3
  dimension "d254" = 18.5
  dimension "d255" = 2.5
  dimension "d256" = 3.3
extrude "Extrusion1" add sketch "Sketch1" along normal blind 7 contours A45 A42 L4 | L4 A42 A43 A45 | A45 A42 A44 | A43 A44 A42 A45 | A45 A43 A35 A42 | A42 A35 A43 L4 | L4 A43 A42 | A43 A42 A44 | A44 A42 | A45 A35 A43 | A35 A43 | A43 A35 A36 A37 A38 A34 A33 A32 A29 A31 A30 A23 A24 A25 A26 A27 A28 A19 A20 A21 A22 A17 A18 A16 A15 A39 A40 A13 A14 A11 A12 A10 A9 A7 A8 A6 A5 A4 A3 A2 A1 A44 A42 | A44 A42 | A35 A43 | A2 | A37 | A4 | A34 | A6 | A32 | A7 | A31 | A10 | A23 | A11 | A25 | A13 | A27 | A39 | A19 | A16 | A21 | A17
sketch "Sketch2" plane through (0, 0, 0) normal (0, -1, 0) x (1, 0, 0)
  circle A0 centre (-22.656, -20.6414) radius 4.15 projected
  circle A1 centre (-22.656, -20.6414) radius 21.1114
  point P0 (0, 0)
extrude "Extrusion2" add sketch "Sketch2" along normal blind 1.5
sketch "Sketch3" plane through (-22.656, -1.5, -20.6414) normal (0, -1, 0) x (1, 0, 0)
  circle A0 centre (12, 0) radius 2
  line L0 (0, -25) -> (0, 25) construction
  line L1 (-25, 0) -> (25, 0) construction
  circle A1 centre (0, 12) radius 2
  circle A2 centre (-12, 0) radius 2
  circle A3 centre (0, -12) radius 2
  point P0 (22.656, 20.6414)
  point P1 (0, 0)
  dimension "d323" = 4
  dimension "d324" = 50
  dimension "d325" = 50
  dimension "d326" = 12
  dimension "d329" = 360
extrude "Extrusion3" cut sketch "Sketch3" against normal blind 10
equation "\"angulo\" = 17.2deg"
equation "\"sep\" = 18.5"
equation "\"d144\" = 18.5"
equation "\"d148\" = 18.5"
equation "\"d162\" = 18.5"
equation "\"d163\" = 18.5"
equation "\"d164\" = 17.2deg"
equation "\"d174\" = 18.5"
equation "\"d175\" = 17.2deg"
equation "\"d193\" = 18.5"
equation "\"d194\" = 17.2deg"
equation "\"d228\" = 18.5"
equation "\"d229\" = 17.2deg"
equation "\"d247\" = 18.5"
equation "\"d250\" = 17.2deg"
equation "\"d261\" = 18.5"
equation "\"d263\" = 17.2deg"
equation "\"d278\" = 18.5"
equation "\"d280\" = 17.2deg"
equation "\"d281\" = 17.2deg"
equation "\"d289\" = 18.5"
equation "\"d310\" = 18.5"
equation "\"d316\" = 18.5"
properties part number "RuedaDentada_EjeFijo"
